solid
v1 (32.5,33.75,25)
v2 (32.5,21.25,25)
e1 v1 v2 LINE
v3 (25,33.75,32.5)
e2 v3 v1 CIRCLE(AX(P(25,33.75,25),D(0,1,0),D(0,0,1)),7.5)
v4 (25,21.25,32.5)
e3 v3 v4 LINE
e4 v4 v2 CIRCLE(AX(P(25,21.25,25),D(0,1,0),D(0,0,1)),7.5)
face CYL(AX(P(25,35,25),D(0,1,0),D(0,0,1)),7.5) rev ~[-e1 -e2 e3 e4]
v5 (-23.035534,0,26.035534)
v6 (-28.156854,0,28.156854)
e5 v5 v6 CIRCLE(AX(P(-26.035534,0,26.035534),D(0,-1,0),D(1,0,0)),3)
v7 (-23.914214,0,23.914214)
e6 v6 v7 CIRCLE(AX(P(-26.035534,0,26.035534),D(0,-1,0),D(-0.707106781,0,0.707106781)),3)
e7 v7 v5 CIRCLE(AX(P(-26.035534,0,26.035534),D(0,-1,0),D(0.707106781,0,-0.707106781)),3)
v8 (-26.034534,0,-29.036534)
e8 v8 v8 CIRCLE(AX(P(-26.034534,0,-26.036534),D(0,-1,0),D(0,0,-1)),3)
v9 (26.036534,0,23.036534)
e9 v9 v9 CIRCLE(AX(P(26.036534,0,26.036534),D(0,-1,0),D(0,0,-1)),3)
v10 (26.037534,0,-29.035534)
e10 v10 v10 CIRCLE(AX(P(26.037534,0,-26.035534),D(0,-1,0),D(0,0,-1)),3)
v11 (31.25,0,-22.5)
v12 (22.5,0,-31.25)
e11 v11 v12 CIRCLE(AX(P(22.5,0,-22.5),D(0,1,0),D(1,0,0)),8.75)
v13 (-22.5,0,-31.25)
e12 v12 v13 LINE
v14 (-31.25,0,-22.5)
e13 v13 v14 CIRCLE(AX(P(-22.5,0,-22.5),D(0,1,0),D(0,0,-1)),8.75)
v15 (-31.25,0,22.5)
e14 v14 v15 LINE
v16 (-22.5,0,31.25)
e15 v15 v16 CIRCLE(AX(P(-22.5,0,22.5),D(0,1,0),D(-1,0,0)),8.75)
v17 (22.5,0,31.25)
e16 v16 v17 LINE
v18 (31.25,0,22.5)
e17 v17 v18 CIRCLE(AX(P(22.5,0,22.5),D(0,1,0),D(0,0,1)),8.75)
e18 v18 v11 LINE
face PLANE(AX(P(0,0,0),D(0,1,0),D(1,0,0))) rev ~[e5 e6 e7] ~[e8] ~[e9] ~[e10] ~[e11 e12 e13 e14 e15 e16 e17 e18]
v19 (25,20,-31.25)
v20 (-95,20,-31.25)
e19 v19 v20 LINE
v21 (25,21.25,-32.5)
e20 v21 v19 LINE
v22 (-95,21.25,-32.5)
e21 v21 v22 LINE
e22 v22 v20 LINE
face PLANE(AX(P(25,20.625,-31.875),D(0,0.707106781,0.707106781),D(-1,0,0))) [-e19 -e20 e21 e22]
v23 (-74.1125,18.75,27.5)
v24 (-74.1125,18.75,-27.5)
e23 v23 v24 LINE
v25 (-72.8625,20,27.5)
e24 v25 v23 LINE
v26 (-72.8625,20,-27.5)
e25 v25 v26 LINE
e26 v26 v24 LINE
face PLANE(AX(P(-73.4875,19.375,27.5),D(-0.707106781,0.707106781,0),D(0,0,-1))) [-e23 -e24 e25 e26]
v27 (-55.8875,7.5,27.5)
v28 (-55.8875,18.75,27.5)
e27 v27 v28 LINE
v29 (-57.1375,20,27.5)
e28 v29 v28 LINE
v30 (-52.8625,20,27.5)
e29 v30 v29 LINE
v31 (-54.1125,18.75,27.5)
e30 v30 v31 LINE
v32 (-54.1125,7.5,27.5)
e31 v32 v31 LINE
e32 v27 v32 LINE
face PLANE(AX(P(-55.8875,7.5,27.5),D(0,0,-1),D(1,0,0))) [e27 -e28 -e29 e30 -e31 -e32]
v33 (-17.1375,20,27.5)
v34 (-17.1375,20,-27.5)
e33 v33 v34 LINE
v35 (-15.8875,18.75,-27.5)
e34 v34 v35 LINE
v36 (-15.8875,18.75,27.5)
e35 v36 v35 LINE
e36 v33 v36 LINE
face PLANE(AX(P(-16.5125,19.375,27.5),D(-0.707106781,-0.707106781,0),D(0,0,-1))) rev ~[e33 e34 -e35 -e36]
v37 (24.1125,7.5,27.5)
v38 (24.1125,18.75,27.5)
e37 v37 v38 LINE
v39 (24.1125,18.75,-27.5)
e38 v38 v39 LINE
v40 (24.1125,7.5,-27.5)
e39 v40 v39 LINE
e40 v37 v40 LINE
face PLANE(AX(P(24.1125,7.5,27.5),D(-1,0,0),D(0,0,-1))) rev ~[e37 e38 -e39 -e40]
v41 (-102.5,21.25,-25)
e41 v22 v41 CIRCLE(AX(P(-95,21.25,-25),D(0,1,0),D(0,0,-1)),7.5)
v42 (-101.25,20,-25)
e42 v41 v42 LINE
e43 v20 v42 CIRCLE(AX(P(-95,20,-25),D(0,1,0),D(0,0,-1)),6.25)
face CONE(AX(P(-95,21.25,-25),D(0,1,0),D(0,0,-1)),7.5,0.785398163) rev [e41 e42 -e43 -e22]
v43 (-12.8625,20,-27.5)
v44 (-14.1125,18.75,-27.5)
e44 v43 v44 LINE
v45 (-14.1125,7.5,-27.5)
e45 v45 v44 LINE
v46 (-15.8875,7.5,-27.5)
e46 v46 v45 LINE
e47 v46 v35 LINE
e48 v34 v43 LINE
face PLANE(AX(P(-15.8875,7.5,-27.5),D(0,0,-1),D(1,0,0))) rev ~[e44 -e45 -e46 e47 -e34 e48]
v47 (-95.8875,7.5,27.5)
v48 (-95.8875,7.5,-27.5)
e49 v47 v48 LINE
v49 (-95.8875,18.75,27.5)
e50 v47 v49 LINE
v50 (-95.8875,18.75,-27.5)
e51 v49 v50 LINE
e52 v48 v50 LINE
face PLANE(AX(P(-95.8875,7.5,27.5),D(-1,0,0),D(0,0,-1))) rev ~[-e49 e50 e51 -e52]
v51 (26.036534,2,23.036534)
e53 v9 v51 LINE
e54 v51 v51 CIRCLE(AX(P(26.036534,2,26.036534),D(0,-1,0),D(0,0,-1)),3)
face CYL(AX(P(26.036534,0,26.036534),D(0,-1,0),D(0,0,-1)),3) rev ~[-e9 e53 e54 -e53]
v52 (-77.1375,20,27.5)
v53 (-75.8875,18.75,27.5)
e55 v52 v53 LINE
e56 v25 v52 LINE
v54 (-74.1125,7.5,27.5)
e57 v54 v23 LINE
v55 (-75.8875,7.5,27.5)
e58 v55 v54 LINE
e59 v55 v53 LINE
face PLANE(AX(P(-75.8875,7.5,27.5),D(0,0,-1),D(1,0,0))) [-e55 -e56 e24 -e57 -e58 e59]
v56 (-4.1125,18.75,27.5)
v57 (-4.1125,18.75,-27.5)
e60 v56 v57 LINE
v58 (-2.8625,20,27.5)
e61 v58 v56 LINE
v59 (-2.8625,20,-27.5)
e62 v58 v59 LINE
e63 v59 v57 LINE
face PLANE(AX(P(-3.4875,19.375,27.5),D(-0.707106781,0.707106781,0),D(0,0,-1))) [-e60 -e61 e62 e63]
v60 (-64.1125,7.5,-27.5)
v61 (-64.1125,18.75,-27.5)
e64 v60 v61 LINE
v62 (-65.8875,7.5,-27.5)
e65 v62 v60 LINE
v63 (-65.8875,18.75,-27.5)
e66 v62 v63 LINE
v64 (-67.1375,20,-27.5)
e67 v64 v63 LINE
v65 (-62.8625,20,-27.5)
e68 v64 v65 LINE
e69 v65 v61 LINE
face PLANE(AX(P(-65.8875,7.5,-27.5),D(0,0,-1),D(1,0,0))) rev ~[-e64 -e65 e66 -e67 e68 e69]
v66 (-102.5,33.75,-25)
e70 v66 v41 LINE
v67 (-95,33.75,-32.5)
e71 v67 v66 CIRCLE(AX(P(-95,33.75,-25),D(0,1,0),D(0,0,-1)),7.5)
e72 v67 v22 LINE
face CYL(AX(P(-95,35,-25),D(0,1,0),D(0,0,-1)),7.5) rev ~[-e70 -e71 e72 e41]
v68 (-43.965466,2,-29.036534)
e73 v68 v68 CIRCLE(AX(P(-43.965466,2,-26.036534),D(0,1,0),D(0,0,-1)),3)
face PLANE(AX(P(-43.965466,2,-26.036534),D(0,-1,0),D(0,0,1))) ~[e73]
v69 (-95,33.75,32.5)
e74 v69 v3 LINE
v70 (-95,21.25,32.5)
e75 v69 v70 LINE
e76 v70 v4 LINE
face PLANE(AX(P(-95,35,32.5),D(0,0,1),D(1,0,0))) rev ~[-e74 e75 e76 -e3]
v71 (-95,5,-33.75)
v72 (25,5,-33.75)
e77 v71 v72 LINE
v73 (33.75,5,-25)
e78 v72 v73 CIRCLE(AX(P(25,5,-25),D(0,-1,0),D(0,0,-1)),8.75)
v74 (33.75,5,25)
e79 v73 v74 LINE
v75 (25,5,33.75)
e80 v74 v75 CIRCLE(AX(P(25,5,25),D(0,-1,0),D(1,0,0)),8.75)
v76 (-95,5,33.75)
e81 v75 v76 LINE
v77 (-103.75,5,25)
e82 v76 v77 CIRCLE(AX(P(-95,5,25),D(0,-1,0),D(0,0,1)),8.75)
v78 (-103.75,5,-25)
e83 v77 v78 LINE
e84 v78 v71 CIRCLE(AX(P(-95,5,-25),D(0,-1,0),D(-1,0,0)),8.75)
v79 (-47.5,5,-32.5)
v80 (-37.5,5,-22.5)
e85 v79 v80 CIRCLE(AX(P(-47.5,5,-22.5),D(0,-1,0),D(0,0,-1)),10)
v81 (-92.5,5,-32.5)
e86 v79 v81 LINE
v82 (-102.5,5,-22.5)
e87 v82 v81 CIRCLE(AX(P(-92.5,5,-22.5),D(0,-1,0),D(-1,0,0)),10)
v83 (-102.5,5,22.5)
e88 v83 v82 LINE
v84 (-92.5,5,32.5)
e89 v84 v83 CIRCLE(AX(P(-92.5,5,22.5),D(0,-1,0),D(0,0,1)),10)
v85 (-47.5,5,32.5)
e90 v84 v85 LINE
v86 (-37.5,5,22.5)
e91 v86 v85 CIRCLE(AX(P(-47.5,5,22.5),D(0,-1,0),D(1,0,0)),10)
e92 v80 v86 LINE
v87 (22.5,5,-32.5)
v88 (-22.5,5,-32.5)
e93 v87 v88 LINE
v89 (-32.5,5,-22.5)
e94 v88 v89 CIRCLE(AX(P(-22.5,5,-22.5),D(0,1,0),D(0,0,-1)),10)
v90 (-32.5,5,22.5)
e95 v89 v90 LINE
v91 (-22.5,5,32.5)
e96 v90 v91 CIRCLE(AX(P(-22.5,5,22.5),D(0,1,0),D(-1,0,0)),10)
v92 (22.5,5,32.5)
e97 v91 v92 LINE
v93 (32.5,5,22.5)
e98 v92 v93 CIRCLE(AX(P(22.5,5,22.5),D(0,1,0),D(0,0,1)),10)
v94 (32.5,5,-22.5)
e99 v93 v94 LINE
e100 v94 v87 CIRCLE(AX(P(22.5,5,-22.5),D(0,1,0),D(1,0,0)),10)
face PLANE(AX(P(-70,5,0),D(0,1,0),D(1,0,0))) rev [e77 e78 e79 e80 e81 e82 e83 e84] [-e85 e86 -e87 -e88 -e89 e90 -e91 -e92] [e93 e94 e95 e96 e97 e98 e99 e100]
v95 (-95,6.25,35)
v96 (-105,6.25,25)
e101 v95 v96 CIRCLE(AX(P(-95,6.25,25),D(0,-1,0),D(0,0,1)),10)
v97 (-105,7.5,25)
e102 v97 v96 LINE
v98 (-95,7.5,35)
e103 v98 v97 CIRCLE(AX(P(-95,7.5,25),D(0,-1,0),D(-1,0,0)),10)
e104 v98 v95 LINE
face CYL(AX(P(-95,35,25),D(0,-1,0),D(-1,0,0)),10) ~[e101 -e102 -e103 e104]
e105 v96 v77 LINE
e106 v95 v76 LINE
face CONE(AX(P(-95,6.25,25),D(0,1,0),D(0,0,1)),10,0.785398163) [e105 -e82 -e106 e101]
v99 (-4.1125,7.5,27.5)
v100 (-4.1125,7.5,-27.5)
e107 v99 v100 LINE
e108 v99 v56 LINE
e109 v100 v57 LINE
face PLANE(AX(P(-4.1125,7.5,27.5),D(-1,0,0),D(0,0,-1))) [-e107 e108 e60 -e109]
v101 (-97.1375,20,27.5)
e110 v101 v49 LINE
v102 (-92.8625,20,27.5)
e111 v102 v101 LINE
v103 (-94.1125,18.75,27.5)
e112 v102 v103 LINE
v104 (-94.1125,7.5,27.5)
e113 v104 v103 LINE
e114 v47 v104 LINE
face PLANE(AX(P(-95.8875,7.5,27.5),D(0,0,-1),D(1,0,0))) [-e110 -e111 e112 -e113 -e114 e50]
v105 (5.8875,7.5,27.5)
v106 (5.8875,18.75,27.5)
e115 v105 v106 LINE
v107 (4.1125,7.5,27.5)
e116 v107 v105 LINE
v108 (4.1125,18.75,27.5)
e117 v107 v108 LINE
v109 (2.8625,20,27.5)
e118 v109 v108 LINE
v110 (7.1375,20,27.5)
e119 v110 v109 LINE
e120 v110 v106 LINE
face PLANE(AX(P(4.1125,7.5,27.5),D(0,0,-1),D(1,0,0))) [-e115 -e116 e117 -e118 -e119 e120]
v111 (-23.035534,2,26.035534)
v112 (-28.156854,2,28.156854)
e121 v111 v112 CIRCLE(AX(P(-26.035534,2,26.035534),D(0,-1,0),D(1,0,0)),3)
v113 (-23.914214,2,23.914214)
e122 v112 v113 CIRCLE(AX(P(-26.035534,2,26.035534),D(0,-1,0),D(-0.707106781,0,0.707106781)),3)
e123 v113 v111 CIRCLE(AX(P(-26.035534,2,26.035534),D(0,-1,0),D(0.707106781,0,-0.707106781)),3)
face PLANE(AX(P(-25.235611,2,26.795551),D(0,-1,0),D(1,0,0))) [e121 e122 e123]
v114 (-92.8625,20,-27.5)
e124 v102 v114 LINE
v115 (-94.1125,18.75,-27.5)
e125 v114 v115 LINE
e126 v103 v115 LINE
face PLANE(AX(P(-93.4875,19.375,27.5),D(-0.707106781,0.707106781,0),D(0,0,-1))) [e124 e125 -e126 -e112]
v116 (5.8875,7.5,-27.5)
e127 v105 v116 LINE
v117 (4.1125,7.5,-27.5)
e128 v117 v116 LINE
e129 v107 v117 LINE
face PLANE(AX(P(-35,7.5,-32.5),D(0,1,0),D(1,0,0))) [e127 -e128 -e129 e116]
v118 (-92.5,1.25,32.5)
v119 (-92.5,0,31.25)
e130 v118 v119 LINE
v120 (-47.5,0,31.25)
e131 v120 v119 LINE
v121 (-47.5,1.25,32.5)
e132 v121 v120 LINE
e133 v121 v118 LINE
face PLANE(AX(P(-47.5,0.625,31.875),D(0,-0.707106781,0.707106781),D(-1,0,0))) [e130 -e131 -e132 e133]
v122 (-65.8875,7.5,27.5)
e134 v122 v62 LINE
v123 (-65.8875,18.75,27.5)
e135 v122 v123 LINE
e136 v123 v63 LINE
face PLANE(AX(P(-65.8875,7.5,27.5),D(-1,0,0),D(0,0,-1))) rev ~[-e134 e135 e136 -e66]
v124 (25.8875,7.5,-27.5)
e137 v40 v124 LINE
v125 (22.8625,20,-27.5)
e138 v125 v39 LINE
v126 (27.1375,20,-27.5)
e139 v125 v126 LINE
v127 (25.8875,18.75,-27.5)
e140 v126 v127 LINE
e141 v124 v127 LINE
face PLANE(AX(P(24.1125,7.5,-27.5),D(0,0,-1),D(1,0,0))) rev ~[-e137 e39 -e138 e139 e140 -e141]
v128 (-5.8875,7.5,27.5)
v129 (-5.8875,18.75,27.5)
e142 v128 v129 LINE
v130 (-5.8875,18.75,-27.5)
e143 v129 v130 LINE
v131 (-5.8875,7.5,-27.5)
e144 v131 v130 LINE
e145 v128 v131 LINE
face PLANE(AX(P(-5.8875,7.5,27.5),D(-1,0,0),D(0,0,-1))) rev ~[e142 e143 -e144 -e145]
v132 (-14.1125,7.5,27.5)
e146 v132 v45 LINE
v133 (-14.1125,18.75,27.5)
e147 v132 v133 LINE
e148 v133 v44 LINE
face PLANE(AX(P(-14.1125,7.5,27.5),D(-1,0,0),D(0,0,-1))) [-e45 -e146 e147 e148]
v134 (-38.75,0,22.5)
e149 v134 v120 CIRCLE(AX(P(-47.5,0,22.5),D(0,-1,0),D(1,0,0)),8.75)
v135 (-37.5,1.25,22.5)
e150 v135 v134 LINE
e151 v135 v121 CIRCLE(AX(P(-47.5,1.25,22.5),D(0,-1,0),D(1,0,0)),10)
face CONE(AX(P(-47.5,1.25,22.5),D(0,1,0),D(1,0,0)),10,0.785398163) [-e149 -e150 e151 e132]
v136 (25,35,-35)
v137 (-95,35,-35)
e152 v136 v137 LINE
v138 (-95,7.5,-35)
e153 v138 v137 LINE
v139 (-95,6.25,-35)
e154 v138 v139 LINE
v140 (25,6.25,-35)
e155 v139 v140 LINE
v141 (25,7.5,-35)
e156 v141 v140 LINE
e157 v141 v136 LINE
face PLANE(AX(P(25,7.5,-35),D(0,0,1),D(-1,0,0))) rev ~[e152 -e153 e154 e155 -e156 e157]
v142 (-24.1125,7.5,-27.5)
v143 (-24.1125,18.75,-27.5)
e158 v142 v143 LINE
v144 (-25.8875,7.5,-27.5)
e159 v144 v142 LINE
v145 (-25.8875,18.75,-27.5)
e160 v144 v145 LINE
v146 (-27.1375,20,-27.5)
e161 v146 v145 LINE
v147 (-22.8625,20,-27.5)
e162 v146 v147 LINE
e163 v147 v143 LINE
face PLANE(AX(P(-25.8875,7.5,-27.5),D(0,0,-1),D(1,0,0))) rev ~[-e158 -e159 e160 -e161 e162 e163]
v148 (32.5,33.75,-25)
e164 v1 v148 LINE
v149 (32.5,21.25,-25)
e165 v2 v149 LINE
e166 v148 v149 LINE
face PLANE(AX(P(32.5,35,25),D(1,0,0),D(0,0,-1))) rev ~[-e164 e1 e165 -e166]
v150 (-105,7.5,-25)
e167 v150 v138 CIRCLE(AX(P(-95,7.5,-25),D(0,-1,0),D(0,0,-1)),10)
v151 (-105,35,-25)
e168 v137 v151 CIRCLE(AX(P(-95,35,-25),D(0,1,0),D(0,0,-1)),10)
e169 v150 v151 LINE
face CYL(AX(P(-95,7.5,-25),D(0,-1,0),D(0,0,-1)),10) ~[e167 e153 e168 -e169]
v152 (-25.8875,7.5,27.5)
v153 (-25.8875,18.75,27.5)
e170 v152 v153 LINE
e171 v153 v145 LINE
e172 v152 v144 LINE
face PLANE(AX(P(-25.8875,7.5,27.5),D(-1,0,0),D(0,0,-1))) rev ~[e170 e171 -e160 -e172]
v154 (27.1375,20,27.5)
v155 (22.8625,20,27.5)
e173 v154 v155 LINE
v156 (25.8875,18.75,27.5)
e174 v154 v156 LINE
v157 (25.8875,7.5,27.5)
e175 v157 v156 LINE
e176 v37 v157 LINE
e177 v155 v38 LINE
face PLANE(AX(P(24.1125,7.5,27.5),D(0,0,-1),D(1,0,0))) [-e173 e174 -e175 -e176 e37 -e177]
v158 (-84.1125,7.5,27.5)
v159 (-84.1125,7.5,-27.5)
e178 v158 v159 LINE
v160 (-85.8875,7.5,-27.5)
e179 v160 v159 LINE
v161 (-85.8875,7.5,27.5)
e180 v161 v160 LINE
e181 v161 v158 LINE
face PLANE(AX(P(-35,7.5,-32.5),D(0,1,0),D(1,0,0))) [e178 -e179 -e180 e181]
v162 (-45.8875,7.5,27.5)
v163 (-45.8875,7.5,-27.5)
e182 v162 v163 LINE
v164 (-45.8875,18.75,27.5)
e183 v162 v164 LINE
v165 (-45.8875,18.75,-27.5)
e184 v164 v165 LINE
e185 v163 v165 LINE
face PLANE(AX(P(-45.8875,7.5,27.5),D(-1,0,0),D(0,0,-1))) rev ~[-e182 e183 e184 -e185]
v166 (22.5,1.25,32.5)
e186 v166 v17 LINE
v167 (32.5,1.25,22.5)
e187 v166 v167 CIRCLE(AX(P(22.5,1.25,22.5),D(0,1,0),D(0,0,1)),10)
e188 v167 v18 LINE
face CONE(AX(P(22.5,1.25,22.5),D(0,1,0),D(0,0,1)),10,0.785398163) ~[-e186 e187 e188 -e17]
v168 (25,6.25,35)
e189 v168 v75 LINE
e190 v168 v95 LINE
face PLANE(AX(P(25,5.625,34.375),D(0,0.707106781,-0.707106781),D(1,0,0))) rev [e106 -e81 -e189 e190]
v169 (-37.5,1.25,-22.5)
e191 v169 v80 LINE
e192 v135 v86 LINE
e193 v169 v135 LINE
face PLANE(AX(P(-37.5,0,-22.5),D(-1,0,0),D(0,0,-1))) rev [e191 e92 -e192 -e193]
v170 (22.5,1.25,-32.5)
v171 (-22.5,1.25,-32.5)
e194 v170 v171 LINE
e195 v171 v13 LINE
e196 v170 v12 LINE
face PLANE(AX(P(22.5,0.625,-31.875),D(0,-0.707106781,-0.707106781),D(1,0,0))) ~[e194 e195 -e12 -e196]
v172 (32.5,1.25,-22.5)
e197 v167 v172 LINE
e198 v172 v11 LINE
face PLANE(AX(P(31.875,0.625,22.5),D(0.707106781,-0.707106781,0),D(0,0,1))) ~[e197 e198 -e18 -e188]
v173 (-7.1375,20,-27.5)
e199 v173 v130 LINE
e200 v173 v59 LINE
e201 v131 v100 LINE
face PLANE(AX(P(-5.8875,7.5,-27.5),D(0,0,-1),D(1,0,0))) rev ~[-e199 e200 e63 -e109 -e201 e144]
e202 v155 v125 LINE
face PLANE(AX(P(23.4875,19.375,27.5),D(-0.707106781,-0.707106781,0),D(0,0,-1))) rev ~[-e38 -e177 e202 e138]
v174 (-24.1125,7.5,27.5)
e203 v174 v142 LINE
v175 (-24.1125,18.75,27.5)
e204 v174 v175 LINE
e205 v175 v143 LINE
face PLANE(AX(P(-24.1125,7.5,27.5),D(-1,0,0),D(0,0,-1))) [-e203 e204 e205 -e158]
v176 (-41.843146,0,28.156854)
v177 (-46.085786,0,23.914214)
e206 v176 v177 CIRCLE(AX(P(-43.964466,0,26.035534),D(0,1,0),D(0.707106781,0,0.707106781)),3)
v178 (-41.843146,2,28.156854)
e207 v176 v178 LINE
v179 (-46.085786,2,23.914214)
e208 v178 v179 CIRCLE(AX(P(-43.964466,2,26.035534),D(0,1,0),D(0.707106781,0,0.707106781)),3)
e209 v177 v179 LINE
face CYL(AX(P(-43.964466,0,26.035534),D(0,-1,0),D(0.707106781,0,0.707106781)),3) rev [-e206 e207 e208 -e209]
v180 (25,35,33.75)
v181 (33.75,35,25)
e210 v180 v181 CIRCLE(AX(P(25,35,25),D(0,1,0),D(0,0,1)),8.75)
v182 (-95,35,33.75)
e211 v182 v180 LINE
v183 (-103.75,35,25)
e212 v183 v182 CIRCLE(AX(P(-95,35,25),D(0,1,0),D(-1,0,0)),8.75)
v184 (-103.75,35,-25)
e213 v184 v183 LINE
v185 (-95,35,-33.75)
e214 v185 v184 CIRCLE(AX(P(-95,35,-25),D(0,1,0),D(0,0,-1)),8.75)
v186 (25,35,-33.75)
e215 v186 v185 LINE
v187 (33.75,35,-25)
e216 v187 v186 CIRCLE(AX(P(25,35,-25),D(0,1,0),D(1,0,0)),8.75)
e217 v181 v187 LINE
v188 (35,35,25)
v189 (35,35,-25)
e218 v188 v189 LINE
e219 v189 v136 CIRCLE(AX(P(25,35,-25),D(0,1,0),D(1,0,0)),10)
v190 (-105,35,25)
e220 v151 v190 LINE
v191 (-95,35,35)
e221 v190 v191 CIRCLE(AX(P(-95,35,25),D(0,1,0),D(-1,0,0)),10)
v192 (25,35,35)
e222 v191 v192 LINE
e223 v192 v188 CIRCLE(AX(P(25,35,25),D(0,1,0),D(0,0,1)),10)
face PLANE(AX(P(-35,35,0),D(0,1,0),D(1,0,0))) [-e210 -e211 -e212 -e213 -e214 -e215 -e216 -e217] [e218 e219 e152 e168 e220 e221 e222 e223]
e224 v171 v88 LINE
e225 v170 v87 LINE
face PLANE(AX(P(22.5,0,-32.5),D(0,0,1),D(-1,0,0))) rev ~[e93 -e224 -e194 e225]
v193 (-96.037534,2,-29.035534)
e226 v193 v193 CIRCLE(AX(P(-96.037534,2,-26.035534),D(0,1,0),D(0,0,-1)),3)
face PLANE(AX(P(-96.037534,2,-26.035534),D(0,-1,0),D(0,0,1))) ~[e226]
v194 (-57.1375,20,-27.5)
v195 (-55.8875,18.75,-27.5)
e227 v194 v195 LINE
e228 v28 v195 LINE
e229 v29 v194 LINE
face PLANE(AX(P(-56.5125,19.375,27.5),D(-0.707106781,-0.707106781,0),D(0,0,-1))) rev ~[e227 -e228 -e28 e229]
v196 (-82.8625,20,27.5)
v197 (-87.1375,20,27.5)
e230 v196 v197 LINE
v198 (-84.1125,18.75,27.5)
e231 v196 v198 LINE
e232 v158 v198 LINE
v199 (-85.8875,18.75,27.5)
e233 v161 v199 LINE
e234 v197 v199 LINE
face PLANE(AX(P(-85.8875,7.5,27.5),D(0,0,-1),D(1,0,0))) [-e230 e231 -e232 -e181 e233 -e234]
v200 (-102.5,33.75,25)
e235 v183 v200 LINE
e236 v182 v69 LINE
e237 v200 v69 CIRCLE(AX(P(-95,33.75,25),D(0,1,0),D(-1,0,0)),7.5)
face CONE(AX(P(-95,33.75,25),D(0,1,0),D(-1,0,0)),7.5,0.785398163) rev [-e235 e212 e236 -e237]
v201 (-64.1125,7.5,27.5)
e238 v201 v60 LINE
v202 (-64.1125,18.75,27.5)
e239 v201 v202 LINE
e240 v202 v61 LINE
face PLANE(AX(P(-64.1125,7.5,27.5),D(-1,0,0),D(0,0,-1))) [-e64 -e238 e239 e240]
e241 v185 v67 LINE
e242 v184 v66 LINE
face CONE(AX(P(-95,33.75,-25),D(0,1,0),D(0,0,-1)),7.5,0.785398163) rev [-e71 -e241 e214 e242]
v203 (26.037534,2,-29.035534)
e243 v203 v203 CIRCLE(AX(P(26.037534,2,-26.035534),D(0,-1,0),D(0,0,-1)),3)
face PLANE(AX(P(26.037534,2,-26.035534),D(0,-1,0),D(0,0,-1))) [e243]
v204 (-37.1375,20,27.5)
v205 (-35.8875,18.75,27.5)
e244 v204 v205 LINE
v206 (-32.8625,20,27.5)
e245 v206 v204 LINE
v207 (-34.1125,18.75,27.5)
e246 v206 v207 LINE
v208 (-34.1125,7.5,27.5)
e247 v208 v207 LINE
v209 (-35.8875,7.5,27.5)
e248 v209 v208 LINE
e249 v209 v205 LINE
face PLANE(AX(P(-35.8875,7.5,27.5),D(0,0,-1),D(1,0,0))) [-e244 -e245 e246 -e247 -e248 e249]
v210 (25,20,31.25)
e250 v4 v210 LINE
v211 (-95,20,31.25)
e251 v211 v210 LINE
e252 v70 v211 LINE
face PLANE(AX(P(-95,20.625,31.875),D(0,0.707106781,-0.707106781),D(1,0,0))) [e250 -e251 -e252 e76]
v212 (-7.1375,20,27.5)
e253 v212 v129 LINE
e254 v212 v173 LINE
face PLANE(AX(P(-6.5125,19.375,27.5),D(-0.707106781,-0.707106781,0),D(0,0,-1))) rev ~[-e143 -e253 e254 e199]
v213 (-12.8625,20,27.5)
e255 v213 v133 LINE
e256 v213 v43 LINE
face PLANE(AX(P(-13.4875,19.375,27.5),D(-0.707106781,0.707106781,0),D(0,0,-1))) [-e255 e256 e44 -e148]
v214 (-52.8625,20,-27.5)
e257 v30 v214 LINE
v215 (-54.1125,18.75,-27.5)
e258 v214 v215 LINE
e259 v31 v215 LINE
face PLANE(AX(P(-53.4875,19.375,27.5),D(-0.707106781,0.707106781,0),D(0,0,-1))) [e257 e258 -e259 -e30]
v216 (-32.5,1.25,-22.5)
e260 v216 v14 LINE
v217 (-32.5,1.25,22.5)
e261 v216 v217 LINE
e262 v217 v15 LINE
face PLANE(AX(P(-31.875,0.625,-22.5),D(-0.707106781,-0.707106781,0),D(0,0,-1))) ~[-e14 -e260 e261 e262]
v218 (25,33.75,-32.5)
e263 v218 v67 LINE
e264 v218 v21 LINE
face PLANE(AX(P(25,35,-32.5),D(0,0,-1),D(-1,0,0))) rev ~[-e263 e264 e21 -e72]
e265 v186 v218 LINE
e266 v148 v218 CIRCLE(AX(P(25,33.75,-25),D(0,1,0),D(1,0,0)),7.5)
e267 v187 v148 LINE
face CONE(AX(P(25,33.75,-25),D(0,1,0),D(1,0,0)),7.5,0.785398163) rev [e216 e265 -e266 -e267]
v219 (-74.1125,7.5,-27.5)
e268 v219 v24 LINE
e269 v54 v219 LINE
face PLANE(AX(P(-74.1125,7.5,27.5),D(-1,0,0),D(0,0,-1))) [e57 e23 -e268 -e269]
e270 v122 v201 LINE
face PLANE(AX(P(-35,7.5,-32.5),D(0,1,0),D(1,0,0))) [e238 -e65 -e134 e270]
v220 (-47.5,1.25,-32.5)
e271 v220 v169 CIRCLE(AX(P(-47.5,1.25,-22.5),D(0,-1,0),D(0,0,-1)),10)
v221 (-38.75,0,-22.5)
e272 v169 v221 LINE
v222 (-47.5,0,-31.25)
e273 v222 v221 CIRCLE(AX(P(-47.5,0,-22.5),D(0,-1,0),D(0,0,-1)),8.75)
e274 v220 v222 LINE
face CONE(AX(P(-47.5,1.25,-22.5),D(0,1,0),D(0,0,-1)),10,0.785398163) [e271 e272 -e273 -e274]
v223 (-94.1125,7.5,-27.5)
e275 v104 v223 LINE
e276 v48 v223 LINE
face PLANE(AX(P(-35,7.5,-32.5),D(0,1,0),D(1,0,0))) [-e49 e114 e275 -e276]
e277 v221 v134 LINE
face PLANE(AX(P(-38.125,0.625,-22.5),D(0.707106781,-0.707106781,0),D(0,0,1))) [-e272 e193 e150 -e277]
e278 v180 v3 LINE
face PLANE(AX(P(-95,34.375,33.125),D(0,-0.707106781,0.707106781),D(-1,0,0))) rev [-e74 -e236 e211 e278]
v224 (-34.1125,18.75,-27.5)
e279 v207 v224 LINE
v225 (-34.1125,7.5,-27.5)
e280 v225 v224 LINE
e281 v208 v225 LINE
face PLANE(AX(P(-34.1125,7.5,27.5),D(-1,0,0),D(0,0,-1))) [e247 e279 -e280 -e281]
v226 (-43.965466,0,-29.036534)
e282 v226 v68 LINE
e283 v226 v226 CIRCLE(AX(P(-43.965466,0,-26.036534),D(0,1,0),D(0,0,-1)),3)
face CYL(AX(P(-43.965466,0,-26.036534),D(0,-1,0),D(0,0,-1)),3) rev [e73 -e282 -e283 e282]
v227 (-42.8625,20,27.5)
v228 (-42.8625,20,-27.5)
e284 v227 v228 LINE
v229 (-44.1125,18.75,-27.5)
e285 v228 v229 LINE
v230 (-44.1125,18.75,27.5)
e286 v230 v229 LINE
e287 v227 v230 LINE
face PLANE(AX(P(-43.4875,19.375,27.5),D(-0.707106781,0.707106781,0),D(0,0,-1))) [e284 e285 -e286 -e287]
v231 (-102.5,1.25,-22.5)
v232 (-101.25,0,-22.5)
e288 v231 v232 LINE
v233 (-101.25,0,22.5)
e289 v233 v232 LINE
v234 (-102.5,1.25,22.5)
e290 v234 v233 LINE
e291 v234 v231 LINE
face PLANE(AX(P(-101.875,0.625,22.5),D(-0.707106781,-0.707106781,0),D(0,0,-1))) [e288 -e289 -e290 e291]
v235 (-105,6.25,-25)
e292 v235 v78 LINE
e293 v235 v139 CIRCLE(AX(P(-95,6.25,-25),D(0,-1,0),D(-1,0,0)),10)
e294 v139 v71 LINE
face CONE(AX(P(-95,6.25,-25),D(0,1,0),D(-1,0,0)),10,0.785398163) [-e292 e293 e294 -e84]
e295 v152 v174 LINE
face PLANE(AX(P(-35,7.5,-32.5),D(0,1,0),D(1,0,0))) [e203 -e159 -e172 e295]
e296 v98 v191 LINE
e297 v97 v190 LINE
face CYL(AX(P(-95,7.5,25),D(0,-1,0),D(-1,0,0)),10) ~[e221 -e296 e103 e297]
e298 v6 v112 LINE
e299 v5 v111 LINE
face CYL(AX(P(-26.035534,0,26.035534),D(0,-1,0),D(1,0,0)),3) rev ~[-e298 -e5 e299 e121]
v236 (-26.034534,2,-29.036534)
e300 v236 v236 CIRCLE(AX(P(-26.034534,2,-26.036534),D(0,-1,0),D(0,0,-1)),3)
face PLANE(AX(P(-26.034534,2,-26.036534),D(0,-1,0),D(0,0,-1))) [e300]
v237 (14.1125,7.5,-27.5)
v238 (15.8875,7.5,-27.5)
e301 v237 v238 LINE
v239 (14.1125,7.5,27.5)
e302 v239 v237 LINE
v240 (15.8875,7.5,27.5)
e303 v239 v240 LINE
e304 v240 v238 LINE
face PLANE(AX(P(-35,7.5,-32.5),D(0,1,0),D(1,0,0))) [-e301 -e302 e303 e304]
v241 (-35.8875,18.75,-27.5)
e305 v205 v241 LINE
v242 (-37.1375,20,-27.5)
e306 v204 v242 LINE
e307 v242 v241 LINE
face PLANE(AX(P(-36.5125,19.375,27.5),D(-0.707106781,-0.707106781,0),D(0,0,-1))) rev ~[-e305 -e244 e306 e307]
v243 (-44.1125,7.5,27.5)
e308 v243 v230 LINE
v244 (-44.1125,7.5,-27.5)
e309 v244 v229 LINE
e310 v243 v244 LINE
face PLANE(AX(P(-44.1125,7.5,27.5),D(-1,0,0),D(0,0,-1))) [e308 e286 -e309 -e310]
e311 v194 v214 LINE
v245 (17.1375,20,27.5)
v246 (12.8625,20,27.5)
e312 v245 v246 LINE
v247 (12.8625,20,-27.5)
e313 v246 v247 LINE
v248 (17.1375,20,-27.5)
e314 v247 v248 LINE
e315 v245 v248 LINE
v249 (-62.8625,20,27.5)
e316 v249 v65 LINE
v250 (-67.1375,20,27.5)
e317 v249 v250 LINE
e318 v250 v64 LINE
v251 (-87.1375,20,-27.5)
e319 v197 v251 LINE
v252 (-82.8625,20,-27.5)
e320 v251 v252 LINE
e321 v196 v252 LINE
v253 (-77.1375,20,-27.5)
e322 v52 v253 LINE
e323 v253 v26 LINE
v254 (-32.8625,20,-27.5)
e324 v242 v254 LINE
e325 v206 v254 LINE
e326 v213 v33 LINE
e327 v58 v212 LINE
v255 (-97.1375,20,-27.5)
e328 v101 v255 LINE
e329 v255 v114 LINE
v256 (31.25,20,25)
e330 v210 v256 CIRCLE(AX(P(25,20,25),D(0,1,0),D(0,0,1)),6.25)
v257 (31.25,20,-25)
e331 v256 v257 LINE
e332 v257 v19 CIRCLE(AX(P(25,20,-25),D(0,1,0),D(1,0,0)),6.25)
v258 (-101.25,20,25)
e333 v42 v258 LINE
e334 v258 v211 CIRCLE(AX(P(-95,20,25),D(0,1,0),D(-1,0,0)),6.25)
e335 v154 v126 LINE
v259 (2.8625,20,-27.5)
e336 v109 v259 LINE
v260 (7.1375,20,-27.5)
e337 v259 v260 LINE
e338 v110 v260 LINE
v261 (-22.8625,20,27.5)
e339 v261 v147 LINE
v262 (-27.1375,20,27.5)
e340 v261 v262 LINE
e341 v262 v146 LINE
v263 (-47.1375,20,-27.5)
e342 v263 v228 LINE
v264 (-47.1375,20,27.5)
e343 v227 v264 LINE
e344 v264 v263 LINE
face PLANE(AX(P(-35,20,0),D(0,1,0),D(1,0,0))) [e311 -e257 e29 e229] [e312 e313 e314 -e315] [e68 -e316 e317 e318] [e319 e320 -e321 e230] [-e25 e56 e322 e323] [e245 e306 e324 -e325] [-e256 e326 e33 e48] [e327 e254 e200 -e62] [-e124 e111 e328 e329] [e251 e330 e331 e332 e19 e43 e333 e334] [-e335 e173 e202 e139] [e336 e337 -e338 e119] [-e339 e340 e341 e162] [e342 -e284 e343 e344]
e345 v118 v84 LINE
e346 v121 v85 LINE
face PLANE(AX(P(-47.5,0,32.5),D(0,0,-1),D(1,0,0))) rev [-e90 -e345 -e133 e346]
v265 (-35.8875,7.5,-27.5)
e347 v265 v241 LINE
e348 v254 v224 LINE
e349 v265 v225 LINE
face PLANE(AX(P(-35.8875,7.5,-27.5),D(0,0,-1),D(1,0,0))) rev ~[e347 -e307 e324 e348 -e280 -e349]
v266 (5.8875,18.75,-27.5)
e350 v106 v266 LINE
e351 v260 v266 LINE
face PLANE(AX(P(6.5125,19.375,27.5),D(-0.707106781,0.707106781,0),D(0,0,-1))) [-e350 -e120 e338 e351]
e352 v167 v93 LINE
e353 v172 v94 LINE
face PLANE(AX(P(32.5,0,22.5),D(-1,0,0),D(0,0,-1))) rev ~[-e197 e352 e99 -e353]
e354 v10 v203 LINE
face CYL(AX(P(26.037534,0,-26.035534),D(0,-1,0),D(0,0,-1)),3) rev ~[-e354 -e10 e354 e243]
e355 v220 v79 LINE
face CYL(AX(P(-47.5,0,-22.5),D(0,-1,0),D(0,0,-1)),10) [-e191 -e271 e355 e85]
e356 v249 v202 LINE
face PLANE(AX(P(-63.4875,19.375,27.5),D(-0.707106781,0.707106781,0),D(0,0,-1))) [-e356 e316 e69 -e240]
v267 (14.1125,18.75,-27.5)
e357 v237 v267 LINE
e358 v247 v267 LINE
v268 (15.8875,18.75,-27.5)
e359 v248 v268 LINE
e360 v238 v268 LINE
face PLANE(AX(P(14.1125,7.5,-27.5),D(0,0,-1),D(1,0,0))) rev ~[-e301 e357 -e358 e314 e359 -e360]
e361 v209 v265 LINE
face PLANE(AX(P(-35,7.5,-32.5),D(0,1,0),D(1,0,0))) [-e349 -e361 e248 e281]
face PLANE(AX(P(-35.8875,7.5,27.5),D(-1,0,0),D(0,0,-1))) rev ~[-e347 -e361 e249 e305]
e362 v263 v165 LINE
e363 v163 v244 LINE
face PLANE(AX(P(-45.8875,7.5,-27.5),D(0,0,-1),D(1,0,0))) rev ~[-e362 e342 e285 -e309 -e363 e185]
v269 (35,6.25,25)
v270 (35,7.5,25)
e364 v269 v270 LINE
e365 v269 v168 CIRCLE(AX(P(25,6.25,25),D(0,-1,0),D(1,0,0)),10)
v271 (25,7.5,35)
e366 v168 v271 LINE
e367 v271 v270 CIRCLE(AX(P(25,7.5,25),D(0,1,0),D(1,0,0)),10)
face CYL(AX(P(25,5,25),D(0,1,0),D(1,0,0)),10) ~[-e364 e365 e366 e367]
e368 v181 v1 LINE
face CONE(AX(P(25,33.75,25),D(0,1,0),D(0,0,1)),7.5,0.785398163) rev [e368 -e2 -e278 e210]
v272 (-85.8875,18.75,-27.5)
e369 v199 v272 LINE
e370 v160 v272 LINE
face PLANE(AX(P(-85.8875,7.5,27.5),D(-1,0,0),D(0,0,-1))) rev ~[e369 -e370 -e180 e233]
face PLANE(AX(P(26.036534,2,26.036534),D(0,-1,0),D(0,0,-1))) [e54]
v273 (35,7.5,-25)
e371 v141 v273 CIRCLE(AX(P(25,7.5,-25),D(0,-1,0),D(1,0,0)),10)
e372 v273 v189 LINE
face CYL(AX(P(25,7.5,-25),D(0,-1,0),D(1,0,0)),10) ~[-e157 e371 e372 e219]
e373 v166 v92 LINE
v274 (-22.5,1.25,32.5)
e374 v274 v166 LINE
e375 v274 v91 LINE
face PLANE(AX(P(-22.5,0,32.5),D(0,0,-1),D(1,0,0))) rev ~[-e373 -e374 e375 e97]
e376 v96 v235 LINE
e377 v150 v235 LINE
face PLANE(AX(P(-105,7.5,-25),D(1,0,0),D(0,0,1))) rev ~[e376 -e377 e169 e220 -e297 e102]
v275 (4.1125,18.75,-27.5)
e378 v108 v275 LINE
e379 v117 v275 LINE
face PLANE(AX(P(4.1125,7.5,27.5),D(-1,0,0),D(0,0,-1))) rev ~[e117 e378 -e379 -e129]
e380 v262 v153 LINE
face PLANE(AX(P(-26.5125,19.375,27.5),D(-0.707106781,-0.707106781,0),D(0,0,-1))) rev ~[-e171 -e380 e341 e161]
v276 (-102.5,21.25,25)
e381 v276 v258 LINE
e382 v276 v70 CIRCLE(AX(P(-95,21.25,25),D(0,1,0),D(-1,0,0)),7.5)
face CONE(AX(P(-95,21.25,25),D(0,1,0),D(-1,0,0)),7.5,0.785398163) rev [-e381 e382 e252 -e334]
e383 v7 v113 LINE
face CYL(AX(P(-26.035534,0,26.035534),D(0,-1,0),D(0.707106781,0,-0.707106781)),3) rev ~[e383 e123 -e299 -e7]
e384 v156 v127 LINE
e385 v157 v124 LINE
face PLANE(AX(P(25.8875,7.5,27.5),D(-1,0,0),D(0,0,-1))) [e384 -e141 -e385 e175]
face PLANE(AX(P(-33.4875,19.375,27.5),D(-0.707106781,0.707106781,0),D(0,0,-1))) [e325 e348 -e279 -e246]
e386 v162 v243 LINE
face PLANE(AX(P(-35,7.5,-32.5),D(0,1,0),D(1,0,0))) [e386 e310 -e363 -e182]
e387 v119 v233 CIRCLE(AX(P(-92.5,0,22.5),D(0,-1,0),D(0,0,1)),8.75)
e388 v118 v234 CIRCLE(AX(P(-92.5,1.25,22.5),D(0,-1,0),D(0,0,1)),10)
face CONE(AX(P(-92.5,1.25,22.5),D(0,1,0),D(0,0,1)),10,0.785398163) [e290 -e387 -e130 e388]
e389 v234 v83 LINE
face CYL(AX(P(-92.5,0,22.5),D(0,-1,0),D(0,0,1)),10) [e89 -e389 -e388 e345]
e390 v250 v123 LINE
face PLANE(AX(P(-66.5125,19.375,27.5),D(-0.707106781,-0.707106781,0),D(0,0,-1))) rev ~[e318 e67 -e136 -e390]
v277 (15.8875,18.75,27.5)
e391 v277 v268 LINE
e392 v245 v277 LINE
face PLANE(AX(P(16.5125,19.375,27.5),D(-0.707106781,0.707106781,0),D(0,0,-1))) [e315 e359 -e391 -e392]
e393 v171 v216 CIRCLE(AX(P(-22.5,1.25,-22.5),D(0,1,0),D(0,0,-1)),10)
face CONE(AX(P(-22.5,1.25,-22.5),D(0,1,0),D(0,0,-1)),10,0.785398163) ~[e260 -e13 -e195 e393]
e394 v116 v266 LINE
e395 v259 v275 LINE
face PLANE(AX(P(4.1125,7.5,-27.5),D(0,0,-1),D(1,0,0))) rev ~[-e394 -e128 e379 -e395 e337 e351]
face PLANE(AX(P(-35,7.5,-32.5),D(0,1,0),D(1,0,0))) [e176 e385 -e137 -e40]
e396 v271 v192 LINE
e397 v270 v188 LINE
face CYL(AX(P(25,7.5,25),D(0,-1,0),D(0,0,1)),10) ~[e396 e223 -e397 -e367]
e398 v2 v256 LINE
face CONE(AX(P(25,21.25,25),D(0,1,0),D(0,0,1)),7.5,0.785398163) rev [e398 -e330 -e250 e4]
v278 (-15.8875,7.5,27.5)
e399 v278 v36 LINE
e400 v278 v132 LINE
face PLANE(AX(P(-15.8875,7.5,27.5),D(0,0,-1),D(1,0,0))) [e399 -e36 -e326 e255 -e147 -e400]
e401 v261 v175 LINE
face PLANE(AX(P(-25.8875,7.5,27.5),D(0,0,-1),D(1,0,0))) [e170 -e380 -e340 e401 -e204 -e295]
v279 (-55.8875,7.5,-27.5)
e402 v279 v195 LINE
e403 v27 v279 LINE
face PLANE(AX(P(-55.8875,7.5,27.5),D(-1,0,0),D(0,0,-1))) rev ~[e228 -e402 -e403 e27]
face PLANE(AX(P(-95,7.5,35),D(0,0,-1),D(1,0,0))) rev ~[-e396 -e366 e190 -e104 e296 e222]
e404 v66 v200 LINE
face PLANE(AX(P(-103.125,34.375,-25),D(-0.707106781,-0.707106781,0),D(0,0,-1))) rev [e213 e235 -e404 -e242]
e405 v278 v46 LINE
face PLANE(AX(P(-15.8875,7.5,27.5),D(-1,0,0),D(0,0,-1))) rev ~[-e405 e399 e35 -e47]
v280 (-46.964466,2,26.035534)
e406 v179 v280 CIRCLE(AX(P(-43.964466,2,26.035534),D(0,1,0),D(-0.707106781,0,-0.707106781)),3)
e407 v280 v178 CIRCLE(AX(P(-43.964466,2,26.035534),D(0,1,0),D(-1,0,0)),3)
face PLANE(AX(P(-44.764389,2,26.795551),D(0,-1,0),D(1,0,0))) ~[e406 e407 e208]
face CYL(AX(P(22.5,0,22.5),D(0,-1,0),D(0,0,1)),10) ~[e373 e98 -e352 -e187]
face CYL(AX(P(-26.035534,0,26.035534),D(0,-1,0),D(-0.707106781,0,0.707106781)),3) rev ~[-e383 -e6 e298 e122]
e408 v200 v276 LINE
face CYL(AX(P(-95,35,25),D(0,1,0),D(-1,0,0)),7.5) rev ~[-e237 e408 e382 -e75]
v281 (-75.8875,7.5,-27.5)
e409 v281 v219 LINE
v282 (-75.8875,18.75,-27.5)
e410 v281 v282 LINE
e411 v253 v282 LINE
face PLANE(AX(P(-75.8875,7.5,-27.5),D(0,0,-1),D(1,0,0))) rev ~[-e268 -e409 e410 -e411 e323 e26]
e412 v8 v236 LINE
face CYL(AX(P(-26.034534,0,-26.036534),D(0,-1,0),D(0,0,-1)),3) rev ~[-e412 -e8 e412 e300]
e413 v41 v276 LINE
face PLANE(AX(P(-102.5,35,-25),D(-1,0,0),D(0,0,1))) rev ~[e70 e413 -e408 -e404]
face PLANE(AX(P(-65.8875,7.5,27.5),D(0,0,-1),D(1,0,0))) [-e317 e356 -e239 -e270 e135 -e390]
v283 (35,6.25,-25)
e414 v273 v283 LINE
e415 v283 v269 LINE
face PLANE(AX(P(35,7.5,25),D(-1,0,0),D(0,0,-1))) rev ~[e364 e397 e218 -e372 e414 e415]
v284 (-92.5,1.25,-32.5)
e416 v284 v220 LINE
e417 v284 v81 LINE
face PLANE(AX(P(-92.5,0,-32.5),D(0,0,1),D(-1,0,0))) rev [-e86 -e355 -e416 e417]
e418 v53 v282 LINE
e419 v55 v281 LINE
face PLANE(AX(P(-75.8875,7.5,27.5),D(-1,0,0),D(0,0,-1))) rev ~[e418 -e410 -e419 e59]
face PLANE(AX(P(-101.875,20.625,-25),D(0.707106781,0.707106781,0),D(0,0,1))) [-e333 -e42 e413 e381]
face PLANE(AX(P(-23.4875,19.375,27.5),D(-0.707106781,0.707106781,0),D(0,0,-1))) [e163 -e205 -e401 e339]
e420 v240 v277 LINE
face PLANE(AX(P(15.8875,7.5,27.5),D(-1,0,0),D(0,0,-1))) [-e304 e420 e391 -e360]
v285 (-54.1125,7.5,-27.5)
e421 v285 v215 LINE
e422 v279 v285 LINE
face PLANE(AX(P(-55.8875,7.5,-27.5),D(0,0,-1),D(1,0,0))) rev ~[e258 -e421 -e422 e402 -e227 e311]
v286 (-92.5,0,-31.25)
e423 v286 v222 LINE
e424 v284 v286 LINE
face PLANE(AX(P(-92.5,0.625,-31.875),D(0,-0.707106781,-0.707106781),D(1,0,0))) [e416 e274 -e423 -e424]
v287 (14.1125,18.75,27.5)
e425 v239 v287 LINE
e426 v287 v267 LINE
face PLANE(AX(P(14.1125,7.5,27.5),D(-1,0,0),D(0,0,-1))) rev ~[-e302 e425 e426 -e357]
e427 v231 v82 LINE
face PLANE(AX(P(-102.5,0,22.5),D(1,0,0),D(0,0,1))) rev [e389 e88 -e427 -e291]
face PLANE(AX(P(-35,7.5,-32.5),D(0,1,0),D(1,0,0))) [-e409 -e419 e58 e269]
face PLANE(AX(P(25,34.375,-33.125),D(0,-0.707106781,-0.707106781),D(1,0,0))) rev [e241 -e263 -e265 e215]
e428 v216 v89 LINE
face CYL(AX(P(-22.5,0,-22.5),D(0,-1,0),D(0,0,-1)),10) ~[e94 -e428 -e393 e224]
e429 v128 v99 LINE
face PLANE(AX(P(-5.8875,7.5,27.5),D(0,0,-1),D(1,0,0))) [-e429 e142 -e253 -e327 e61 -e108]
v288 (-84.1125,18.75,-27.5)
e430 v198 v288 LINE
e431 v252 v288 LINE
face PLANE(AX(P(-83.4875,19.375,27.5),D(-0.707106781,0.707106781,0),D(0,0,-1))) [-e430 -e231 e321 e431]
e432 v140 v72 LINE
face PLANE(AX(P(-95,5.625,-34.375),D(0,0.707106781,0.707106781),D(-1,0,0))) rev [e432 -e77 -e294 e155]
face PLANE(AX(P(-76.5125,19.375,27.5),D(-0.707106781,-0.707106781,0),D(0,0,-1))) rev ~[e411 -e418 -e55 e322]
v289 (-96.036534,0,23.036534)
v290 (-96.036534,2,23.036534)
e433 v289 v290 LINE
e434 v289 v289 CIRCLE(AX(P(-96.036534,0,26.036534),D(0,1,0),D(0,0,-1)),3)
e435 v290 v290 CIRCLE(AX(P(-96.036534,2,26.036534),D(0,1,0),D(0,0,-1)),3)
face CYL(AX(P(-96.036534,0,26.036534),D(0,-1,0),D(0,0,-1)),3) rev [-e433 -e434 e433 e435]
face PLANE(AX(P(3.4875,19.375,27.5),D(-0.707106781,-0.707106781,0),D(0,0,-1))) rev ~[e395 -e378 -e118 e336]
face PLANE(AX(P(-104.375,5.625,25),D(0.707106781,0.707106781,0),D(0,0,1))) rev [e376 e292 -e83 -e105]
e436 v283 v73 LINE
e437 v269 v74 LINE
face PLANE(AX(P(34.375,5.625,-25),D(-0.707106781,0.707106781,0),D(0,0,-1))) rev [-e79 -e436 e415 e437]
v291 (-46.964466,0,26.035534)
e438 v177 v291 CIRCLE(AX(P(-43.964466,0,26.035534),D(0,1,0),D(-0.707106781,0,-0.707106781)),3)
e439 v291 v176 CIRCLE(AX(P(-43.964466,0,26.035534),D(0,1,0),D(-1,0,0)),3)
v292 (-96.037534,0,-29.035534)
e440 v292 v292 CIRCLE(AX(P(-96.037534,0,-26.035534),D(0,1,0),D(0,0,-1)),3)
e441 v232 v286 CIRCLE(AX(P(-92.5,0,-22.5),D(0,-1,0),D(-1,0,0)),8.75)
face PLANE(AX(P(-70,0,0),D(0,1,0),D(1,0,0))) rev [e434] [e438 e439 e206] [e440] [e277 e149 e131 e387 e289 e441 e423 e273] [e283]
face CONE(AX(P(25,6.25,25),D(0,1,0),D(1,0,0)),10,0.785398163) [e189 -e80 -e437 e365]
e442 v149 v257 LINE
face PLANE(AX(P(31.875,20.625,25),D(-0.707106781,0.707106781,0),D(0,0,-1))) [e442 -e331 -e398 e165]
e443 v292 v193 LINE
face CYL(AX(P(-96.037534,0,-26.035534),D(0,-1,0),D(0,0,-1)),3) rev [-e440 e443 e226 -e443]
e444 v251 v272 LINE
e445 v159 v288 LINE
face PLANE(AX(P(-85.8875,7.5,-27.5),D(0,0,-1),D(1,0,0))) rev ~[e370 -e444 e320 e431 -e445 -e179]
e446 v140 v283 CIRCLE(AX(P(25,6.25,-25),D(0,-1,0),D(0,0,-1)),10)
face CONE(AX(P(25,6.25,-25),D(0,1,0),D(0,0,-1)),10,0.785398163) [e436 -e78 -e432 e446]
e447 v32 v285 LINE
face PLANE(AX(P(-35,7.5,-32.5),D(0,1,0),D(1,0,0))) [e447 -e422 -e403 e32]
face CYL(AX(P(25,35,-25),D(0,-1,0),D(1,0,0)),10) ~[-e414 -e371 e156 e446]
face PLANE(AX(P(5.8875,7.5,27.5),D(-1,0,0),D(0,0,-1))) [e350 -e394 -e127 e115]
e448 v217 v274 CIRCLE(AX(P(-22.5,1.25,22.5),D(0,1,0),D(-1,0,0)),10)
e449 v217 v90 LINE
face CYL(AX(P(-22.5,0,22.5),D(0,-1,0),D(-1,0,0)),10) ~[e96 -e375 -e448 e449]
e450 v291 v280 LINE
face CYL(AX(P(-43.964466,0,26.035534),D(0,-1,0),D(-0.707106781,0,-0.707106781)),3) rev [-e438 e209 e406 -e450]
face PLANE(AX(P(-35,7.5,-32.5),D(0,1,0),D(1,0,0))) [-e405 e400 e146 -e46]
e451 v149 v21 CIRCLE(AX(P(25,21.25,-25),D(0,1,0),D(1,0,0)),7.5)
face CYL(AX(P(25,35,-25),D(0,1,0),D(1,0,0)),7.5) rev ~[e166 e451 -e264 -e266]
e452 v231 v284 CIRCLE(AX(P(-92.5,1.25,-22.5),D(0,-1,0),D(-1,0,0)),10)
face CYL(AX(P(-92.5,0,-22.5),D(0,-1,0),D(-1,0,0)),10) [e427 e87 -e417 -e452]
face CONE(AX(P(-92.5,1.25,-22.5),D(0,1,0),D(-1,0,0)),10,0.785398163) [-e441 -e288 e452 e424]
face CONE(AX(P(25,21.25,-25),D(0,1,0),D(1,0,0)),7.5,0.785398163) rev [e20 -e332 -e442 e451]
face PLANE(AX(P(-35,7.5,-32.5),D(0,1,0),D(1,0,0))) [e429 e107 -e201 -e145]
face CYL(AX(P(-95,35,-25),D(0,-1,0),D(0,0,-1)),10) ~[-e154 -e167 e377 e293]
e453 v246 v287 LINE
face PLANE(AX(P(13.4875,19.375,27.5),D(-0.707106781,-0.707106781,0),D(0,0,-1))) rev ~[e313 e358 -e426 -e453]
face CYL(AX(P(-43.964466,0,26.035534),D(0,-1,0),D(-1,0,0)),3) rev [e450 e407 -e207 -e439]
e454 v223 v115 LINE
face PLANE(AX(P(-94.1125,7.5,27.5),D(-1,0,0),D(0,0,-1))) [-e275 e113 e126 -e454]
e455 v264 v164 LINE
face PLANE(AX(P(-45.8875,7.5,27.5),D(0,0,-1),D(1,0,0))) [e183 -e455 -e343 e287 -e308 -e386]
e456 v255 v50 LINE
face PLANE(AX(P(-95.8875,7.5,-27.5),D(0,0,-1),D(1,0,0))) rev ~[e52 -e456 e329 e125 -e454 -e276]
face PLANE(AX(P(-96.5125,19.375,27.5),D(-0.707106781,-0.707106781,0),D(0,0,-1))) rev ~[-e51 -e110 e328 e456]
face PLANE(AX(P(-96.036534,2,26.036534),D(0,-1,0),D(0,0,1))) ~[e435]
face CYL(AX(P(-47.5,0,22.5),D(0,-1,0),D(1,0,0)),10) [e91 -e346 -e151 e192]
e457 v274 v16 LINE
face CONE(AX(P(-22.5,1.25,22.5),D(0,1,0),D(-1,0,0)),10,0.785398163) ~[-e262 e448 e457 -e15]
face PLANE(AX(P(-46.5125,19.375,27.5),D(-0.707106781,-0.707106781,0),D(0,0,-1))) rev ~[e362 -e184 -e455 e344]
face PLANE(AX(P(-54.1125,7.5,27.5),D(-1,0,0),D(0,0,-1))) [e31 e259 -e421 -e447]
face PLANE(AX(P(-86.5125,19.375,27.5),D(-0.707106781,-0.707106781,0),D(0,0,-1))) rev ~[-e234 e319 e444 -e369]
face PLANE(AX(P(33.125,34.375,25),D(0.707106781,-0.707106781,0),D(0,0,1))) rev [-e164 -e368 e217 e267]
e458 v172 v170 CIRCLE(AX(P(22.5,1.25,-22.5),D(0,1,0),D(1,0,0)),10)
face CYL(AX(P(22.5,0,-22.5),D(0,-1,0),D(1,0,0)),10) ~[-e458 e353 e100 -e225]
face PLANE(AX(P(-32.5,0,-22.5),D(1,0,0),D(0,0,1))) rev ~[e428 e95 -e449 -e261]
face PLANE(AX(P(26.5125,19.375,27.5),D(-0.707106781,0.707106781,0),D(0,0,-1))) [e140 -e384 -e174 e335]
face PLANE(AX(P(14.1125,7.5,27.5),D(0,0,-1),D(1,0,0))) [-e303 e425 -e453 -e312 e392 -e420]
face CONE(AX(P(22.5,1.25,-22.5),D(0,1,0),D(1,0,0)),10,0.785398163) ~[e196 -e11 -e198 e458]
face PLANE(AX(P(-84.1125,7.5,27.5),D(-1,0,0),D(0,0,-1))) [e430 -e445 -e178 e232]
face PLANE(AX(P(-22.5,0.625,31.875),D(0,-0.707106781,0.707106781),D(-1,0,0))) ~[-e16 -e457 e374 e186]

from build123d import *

# Parameters (mm, degrees)
BOSS_EXTRUDE4_DEPTH = 5
SKETCH6_W           = 70
SKETCH6_H           = 70
BOSS_EXTRUDE5_DEPTH = 30
SKETCH8_R           = 3
CUT_EXTRUDE1_DEPTH  = 2
CUT_EXTRUDE2_START  = -30
CUT_EXTRUDE2_DEPTH  = 30
SKETCH10_W          = 140
SKETCH10_H          = 70
BOSS_EXTRUDE6_DEPTH = 2.5
FILLET1_R           = 10
SKETCH11_W          = 202.57423707
SKETCH11_H          = 181.335779968
CUT_EXTRUDE3_DEPTH  = 27.5
SKETCH12_W          = 1.775
SKETCH12_H          = 55
BOSS_EXTRUDE9_DEPTH = 27.5
CUT_EXTRUDE4_DEPTH  = 15
CHAMFER2_SIZE       = 1.25
CHAMFER4_SIZE       = 1.25
CHAMFER5_SIZE       = 1.25


with BuildPart() as part:
    # Sketch5 → Boss-Extrude4 (new body)
    with BuildSketch(Plane(origin=(0, 0, 0), x_dir=(1, 0, 0), z_dir=(0, 1, 0))):
        with BuildLine():
            Line((-22.5, -32.5), (22.5, -32.5))
            ThreePointArc((22.5, -32.5), (29.571067812, -29.571067812), (32.5, -22.5))
            Line((32.5, -22.5), (32.5, 22.5))
            ThreePointArc((32.5, 22.5), (29.571067812, 29.571067812), (22.5, 32.5))
            Line((22.5, 32.5), (-22.5, 32.5))
            ThreePointArc((-22.5, 32.5), (-29.571067812, 29.571067812), (-32.5, 22.5))
            Line((-32.5, 22.5), (-32.5, -22.5))
            ThreePointArc((-32.5, -22.5), (-29.571067812, -29.571067812), (-22.5, -32.5))
        make_face()
    extrude(amount=BOSS_EXTRUDE4_DEPTH)

    # Sketch6 → Boss-Extrude5 (add)
    with BuildSketch(Plane(origin=(0, 5, 0), x_dir=(1, 0, 0), z_dir=(0, 1, 0))):
        Rectangle(SKETCH6_W, SKETCH6_H)
    extrude(amount=BOSS_EXTRUDE5_DEPTH)

    # Sketch8 → Cut-Extrude1 (cut)
    with BuildSketch(Plane.XZ):
        with Locations(Location((26.037533906, -26.035533906, 0), (0, 0, 270))):
            Circle(SKETCH8_R)
        with Locations(Location((26.036533906, 26.036533906, 0), (0, 0, 270))):
            Circle(SKETCH8_R)
        with BuildLine():
            ThreePointArc((-23.035533906, 26.035533906), (-24.887483609, 28.807172503), (-28.156854249, 28.156854249))
            Line((-28.156854249, 28.156854249), (-23.914213562, 23.914213562))
            ThreePointArc((-23.914213562, 23.914213562), (-23.263895308, 24.887483609), (-23.035533906, 26.035533906))
        make_face()
        with BuildLine():
            Line((-23.914213562, 23.914213562), (-28.156854249, 28.156854249))
            ThreePointArc((-28.156854249, 28.156854249), (-28.156854249, 23.914213562), (-23.914213562, 23.914213562))
        make_face()
        with Locations(Location((-26.034533906, -26.036533906, 0), (0, 0, 270))):
            Circle(SKETCH8_R)
    extrude(amount=-CUT_EXTRUDE1_DEPTH, mode=Mode.SUBTRACT)

    # Mirror1: part across plane


with BuildPart() as part_1:
    add(part.part)
    add(part.part.mirror(Plane(origin=(-35, 35, -35), x_dir=(0, 0, 1), z_dir=(1, 0, 0))))

    # Sketch9 → Cut-Extrude2 (cut)
    with BuildSketch(Plane(origin=(0, 35, 0), x_dir=(1, 0, 0), z_dir=(0, 1, 0)).offset(CUT_EXTRUDE2_START)):
        with BuildLine():
            Line((22.5, 32.5), (-92.5, 32.5))
            ThreePointArc((-92.5, 32.5), (-99.571067812, 29.571067812), (-102.5, 22.5))
            Line((-102.5, 22.5), (-102.5, -22.5))
            ThreePointArc((-102.5, -22.5), (-99.571067812, -29.571067812), (-92.5, -32.5))
            Line((-92.5, -32.5), (22.5, -32.5))
            ThreePointArc((22.5, -32.5), (29.571067812, -29.571067812), (32.5, -22.5))
            Line((32.5, -22.5), (32.5, 22.5))
            ThreePointArc((32.5, 22.5), (29.571067812, 29.571067812), (22.5, 32.5))
        make_face()
    extrude(amount=CUT_EXTRUDE2_DEPTH, mode=Mode.SUBTRACT)


with BuildPart() as cut_extrude2_piece_1:
    # of the separate pieces the step leaves, piece 1, a body of its own (cut_extrude2_pieces)
    add(part_1.part.solids().sort_by_distance((35, 5, -35))[0])



with BuildPart() as cut_extrude2_piece_2:
    # of the separate pieces the step leaves, piece 2, a body of its own (cut_extrude2_pieces)
    add(part_1.part.solids().sort_by_distance((-22.5, 0, 32.5))[0])


with BuildPart() as cut_extrude2_piece_3:
    # of the separate pieces the step leaves, piece 3, a body of its own (cut_extrude2_pieces)
    add(part_1.part.solids().sort_by_distance((-92.5, 0, -32.5))[0])


with BuildPart() as cut_extrude2_piece_1_1:
    add(cut_extrude2_piece_1.part)

    add(cut_extrude2_piece_2.part)  # Boss-Extrude6 merges Cut-Extrude2 piece 2

    add(cut_extrude2_piece_3.part)  # Boss-Extrude6 merges Cut-Extrude2 piece 3
    # Sketch10 → Boss-Extrude6 (add)
    with BuildSketch(Plane.XZ.offset(-5)):
        with Locations((-35, 0)):
            Rectangle(SKETCH10_W, SKETCH10_H)
    extrude(amount=-BOSS_EXTRUDE6_DEPTH)

    # Fillet1
    fillet1_edges = [cut_extrude2_piece_1_1.edges().sort_by_distance(p)[0] for p in [
        (35, 20, 35),
        (35, 20, -35),
        (-105, 20, 35),
        (-105, 20, -35),
    ]]
    fillet(fillet1_edges, radius=FILLET1_R)

    # Sketch11 → Cut-Extrude3 (cut)
    with BuildSketch(Plane(origin=(0, 35, 0), x_dir=(1, 0, 0), z_dir=(0, 1, 0))):
        with Locations((-35, 32.5)):
            Rectangle(SKETCH11_W, SKETCH11_H)
    extrude(amount=-CUT_EXTRUDE3_DEPTH, mode=Mode.SUBTRACT)

    # Sketch12 → Boss-Extrude9 (add)
    with BuildSketch(Plane(origin=(0, 7.5, 0), x_dir=(1, 0, 0), z_dir=(0, 1, 0))):
        with BuildLine():
            Line((-105, 25), (-105, -25))
            ThreePointArc((-105, -25), (-102.071067812, -32.071067812), (-95, -35))
            Line((-95, -35), (25, -35))
            ThreePointArc((25, -35), (32.071067812, -32.071067812), (35, -25))
            Line((35, -25), (35, 25))
            ThreePointArc((35, 25), (32.071067812, 32.071067812), (25, 35))
            Line((25, 35), (-95, 35))
            ThreePointArc((-95, 35), (-102.071067812, 32.071067812), (-105, 25))
        make_face()
        with Locations((-85, 0)):
            Rectangle(SKETCH12_W, SKETCH12_H, mode=Mode.SUBTRACT)
        with Locations((-75, 0)):
            Rectangle(SKETCH12_W, SKETCH12_H, mode=Mode.SUBTRACT)
        with Locations((-65, 0)):
            Rectangle(SKETCH12_W, SKETCH12_H, mode=Mode.SUBTRACT)
        with Locations((-55, 0)):
            Rectangle(SKETCH12_W, SKETCH12_H, mode=Mode.SUBTRACT)
        with Locations((-45, 0)):
            Rectangle(SKETCH12_W, SKETCH12_H, mode=Mode.SUBTRACT)
        with Locations((-35, 0)):
            Rectangle(SKETCH12_W, SKETCH12_H, mode=Mode.SUBTRACT)
        with Locations((-95, 0)):
            Rectangle(SKETCH12_W, SKETCH12_H, mode=Mode.SUBTRACT)
        with Locations((-25, 0)):
            Rectangle(SKETCH12_W, SKETCH12_H, mode=Mode.SUBTRACT)
        with Locations((-15, 0)):
            Rectangle(SKETCH12_W, SKETCH12_H, mode=Mode.SUBTRACT)
        with Locations((-5, 0)):
            Rectangle(SKETCH12_W, SKETCH12_H, mode=Mode.SUBTRACT)
        with Locations((5, 0)):
            Rectangle(SKETCH12_W, SKETCH12_H, mode=Mode.SUBTRACT)
        with Locations((15, 0)):
            Rectangle(SKETCH12_W, SKETCH12_H, mode=Mode.SUBTRACT)
        with Locations((25, 0)):
            Rectangle(SKETCH12_W, SKETCH12_H, mode=Mode.SUBTRACT)
    extrude(amount=BOSS_EXTRUDE9_DEPTH)

    # Sketch13 → Cut-Extrude4 (cut)
    with BuildSketch(Plane(origin=(0, 35, 0), x_dir=(1, 0, 0), z_dir=(0, 1, 0))):
        with BuildLine():
            Line((32.5, -25), (32.5, 25))
            ThreePointArc((32.5, 25), (30.303300859, 30.303300859), (25, 32.5))
            Line((25, 32.5), (-95, 32.5))
            ThreePointArc((-95, 32.5), (-100.303300859, 30.303300859), (-102.5, 25))
            Line((-102.5, 25), (-102.5, -25))
            ThreePointArc((-102.5, -25), (-100.303300859, -30.303300859), (-95, -32.5))
            Line((-95, -32.5), (25, -32.5))
            ThreePointArc((25, -32.5), (30.303300859, -30.303300859), (32.5, -25))
        make_face()
    extrude(amount=-CUT_EXTRUDE4_DEPTH, mode=Mode.SUBTRACT)

    # Chamfer2
    chamfer2_edges = [cut_extrude2_piece_1_1.edges().sort_by_distance(p)[0] for p in [
        (30.303300859, 20, -30.303300859),
        (32.5, 20, 0),
        (30.303300859, 20, 30.303300859),
        (-35, 20, 32.5),
        (-100.303300859, 20, 30.303300859),
        (-102.5, 20, 0),
        (-100.303300859, 20, -30.303300859),
        (-35, 20, -32.5),
        (30.303300859, 35, -30.303300859),
        (-35, 35, -32.5),
        (-100.303300859, 35, -30.303300859),
        (-102.5, 35, 0),
        (-100.303300859, 35, 30.303300859),
        (-35, 35, 32.5),
        (30.303300859, 35, 30.303300859),
        (32.5, 35, 0),
    ]]
    chamfer(chamfer2_edges, length=CHAMFER2_SIZE)

    # Chamfer4
    chamfer4_edges = [cut_extrude2_piece_1_1.edges().sort_by_distance(p)[0] for p in [
        (-29.571067812, 0, 29.571067812),
        (0, 0, 32.5),
        (29.571067812, 0, 29.571067812),
        (32.5, 0, 0),
        (29.571067812, 0, -29.571067812),
        (0, 0, -32.5),
        (-29.571067812, 0, -29.571067812),
        (-32.5, 0, 0),
        (-40.428932188, 0, 29.571067812),
        (-70, 0, 32.5),
        (-99.571067812, 0, 29.571067812),
        (-102.5, 0, 0),
        (-99.571067812, 0, -29.571067812),
        (-70, 0, -32.5),
        (-40.428932188, 0, -29.571067812),
        (-37.5, 0, 0),
        (-35, 5, -35),
        (-35, 5, 35),
        (-105, 5, 0),
        (35, 5, 0),
        (-102.071067812, 5, -32.071067812),
        (-102.071067812, 5, 32.071067812),
        (32.071067812, 5, 32.071067812),
        (32.071067812, 5, -32.071067812),
    ]]
    chamfer(chamfer4_edges, length=CHAMFER4_SIZE)

    # Chamfer5
    chamfer5_edges = [cut_extrude2_piece_1_1.edges().sort_by_distance(p)[0] for p in [
        (25.8875, 20, 0),
        (-94.1125, 20, 0),
        (-95.8875, 20, 0),
        (-84.1125, 20, 0),
        (-85.8875, 20, 0),
        (-74.1125, 20, 0),
        (-75.8875, 20, 0),
        (-64.1125, 20, 0),
        (-65.8875, 20, 0),
        (-54.1125, 20, 0),
        (-55.8875, 20, 0),
        (-44.1125, 20, 0),
        (-45.8875, 20, 0),
        (-34.1125, 20, 0),
        (-35.8875, 20, 0),
        (-24.1125, 20, 0),
        (-25.8875, 20, 0),
        (-14.1125, 20, 0),
        (-15.8875, 20, 0),
        (-4.1125, 20, 0),
        (-5.8875, 20, 0),
        (5.8875, 20, 0),
        (4.1125, 20, 0),
        (15.8875, 20, 0),
        (14.1125, 20, 0),
        (24.1125, 20, 0),
    ]]
    chamfer(chamfer5_edges, length=CHAMFER5_SIZE)


solid = cut_extrude2_piece_1_1.part
